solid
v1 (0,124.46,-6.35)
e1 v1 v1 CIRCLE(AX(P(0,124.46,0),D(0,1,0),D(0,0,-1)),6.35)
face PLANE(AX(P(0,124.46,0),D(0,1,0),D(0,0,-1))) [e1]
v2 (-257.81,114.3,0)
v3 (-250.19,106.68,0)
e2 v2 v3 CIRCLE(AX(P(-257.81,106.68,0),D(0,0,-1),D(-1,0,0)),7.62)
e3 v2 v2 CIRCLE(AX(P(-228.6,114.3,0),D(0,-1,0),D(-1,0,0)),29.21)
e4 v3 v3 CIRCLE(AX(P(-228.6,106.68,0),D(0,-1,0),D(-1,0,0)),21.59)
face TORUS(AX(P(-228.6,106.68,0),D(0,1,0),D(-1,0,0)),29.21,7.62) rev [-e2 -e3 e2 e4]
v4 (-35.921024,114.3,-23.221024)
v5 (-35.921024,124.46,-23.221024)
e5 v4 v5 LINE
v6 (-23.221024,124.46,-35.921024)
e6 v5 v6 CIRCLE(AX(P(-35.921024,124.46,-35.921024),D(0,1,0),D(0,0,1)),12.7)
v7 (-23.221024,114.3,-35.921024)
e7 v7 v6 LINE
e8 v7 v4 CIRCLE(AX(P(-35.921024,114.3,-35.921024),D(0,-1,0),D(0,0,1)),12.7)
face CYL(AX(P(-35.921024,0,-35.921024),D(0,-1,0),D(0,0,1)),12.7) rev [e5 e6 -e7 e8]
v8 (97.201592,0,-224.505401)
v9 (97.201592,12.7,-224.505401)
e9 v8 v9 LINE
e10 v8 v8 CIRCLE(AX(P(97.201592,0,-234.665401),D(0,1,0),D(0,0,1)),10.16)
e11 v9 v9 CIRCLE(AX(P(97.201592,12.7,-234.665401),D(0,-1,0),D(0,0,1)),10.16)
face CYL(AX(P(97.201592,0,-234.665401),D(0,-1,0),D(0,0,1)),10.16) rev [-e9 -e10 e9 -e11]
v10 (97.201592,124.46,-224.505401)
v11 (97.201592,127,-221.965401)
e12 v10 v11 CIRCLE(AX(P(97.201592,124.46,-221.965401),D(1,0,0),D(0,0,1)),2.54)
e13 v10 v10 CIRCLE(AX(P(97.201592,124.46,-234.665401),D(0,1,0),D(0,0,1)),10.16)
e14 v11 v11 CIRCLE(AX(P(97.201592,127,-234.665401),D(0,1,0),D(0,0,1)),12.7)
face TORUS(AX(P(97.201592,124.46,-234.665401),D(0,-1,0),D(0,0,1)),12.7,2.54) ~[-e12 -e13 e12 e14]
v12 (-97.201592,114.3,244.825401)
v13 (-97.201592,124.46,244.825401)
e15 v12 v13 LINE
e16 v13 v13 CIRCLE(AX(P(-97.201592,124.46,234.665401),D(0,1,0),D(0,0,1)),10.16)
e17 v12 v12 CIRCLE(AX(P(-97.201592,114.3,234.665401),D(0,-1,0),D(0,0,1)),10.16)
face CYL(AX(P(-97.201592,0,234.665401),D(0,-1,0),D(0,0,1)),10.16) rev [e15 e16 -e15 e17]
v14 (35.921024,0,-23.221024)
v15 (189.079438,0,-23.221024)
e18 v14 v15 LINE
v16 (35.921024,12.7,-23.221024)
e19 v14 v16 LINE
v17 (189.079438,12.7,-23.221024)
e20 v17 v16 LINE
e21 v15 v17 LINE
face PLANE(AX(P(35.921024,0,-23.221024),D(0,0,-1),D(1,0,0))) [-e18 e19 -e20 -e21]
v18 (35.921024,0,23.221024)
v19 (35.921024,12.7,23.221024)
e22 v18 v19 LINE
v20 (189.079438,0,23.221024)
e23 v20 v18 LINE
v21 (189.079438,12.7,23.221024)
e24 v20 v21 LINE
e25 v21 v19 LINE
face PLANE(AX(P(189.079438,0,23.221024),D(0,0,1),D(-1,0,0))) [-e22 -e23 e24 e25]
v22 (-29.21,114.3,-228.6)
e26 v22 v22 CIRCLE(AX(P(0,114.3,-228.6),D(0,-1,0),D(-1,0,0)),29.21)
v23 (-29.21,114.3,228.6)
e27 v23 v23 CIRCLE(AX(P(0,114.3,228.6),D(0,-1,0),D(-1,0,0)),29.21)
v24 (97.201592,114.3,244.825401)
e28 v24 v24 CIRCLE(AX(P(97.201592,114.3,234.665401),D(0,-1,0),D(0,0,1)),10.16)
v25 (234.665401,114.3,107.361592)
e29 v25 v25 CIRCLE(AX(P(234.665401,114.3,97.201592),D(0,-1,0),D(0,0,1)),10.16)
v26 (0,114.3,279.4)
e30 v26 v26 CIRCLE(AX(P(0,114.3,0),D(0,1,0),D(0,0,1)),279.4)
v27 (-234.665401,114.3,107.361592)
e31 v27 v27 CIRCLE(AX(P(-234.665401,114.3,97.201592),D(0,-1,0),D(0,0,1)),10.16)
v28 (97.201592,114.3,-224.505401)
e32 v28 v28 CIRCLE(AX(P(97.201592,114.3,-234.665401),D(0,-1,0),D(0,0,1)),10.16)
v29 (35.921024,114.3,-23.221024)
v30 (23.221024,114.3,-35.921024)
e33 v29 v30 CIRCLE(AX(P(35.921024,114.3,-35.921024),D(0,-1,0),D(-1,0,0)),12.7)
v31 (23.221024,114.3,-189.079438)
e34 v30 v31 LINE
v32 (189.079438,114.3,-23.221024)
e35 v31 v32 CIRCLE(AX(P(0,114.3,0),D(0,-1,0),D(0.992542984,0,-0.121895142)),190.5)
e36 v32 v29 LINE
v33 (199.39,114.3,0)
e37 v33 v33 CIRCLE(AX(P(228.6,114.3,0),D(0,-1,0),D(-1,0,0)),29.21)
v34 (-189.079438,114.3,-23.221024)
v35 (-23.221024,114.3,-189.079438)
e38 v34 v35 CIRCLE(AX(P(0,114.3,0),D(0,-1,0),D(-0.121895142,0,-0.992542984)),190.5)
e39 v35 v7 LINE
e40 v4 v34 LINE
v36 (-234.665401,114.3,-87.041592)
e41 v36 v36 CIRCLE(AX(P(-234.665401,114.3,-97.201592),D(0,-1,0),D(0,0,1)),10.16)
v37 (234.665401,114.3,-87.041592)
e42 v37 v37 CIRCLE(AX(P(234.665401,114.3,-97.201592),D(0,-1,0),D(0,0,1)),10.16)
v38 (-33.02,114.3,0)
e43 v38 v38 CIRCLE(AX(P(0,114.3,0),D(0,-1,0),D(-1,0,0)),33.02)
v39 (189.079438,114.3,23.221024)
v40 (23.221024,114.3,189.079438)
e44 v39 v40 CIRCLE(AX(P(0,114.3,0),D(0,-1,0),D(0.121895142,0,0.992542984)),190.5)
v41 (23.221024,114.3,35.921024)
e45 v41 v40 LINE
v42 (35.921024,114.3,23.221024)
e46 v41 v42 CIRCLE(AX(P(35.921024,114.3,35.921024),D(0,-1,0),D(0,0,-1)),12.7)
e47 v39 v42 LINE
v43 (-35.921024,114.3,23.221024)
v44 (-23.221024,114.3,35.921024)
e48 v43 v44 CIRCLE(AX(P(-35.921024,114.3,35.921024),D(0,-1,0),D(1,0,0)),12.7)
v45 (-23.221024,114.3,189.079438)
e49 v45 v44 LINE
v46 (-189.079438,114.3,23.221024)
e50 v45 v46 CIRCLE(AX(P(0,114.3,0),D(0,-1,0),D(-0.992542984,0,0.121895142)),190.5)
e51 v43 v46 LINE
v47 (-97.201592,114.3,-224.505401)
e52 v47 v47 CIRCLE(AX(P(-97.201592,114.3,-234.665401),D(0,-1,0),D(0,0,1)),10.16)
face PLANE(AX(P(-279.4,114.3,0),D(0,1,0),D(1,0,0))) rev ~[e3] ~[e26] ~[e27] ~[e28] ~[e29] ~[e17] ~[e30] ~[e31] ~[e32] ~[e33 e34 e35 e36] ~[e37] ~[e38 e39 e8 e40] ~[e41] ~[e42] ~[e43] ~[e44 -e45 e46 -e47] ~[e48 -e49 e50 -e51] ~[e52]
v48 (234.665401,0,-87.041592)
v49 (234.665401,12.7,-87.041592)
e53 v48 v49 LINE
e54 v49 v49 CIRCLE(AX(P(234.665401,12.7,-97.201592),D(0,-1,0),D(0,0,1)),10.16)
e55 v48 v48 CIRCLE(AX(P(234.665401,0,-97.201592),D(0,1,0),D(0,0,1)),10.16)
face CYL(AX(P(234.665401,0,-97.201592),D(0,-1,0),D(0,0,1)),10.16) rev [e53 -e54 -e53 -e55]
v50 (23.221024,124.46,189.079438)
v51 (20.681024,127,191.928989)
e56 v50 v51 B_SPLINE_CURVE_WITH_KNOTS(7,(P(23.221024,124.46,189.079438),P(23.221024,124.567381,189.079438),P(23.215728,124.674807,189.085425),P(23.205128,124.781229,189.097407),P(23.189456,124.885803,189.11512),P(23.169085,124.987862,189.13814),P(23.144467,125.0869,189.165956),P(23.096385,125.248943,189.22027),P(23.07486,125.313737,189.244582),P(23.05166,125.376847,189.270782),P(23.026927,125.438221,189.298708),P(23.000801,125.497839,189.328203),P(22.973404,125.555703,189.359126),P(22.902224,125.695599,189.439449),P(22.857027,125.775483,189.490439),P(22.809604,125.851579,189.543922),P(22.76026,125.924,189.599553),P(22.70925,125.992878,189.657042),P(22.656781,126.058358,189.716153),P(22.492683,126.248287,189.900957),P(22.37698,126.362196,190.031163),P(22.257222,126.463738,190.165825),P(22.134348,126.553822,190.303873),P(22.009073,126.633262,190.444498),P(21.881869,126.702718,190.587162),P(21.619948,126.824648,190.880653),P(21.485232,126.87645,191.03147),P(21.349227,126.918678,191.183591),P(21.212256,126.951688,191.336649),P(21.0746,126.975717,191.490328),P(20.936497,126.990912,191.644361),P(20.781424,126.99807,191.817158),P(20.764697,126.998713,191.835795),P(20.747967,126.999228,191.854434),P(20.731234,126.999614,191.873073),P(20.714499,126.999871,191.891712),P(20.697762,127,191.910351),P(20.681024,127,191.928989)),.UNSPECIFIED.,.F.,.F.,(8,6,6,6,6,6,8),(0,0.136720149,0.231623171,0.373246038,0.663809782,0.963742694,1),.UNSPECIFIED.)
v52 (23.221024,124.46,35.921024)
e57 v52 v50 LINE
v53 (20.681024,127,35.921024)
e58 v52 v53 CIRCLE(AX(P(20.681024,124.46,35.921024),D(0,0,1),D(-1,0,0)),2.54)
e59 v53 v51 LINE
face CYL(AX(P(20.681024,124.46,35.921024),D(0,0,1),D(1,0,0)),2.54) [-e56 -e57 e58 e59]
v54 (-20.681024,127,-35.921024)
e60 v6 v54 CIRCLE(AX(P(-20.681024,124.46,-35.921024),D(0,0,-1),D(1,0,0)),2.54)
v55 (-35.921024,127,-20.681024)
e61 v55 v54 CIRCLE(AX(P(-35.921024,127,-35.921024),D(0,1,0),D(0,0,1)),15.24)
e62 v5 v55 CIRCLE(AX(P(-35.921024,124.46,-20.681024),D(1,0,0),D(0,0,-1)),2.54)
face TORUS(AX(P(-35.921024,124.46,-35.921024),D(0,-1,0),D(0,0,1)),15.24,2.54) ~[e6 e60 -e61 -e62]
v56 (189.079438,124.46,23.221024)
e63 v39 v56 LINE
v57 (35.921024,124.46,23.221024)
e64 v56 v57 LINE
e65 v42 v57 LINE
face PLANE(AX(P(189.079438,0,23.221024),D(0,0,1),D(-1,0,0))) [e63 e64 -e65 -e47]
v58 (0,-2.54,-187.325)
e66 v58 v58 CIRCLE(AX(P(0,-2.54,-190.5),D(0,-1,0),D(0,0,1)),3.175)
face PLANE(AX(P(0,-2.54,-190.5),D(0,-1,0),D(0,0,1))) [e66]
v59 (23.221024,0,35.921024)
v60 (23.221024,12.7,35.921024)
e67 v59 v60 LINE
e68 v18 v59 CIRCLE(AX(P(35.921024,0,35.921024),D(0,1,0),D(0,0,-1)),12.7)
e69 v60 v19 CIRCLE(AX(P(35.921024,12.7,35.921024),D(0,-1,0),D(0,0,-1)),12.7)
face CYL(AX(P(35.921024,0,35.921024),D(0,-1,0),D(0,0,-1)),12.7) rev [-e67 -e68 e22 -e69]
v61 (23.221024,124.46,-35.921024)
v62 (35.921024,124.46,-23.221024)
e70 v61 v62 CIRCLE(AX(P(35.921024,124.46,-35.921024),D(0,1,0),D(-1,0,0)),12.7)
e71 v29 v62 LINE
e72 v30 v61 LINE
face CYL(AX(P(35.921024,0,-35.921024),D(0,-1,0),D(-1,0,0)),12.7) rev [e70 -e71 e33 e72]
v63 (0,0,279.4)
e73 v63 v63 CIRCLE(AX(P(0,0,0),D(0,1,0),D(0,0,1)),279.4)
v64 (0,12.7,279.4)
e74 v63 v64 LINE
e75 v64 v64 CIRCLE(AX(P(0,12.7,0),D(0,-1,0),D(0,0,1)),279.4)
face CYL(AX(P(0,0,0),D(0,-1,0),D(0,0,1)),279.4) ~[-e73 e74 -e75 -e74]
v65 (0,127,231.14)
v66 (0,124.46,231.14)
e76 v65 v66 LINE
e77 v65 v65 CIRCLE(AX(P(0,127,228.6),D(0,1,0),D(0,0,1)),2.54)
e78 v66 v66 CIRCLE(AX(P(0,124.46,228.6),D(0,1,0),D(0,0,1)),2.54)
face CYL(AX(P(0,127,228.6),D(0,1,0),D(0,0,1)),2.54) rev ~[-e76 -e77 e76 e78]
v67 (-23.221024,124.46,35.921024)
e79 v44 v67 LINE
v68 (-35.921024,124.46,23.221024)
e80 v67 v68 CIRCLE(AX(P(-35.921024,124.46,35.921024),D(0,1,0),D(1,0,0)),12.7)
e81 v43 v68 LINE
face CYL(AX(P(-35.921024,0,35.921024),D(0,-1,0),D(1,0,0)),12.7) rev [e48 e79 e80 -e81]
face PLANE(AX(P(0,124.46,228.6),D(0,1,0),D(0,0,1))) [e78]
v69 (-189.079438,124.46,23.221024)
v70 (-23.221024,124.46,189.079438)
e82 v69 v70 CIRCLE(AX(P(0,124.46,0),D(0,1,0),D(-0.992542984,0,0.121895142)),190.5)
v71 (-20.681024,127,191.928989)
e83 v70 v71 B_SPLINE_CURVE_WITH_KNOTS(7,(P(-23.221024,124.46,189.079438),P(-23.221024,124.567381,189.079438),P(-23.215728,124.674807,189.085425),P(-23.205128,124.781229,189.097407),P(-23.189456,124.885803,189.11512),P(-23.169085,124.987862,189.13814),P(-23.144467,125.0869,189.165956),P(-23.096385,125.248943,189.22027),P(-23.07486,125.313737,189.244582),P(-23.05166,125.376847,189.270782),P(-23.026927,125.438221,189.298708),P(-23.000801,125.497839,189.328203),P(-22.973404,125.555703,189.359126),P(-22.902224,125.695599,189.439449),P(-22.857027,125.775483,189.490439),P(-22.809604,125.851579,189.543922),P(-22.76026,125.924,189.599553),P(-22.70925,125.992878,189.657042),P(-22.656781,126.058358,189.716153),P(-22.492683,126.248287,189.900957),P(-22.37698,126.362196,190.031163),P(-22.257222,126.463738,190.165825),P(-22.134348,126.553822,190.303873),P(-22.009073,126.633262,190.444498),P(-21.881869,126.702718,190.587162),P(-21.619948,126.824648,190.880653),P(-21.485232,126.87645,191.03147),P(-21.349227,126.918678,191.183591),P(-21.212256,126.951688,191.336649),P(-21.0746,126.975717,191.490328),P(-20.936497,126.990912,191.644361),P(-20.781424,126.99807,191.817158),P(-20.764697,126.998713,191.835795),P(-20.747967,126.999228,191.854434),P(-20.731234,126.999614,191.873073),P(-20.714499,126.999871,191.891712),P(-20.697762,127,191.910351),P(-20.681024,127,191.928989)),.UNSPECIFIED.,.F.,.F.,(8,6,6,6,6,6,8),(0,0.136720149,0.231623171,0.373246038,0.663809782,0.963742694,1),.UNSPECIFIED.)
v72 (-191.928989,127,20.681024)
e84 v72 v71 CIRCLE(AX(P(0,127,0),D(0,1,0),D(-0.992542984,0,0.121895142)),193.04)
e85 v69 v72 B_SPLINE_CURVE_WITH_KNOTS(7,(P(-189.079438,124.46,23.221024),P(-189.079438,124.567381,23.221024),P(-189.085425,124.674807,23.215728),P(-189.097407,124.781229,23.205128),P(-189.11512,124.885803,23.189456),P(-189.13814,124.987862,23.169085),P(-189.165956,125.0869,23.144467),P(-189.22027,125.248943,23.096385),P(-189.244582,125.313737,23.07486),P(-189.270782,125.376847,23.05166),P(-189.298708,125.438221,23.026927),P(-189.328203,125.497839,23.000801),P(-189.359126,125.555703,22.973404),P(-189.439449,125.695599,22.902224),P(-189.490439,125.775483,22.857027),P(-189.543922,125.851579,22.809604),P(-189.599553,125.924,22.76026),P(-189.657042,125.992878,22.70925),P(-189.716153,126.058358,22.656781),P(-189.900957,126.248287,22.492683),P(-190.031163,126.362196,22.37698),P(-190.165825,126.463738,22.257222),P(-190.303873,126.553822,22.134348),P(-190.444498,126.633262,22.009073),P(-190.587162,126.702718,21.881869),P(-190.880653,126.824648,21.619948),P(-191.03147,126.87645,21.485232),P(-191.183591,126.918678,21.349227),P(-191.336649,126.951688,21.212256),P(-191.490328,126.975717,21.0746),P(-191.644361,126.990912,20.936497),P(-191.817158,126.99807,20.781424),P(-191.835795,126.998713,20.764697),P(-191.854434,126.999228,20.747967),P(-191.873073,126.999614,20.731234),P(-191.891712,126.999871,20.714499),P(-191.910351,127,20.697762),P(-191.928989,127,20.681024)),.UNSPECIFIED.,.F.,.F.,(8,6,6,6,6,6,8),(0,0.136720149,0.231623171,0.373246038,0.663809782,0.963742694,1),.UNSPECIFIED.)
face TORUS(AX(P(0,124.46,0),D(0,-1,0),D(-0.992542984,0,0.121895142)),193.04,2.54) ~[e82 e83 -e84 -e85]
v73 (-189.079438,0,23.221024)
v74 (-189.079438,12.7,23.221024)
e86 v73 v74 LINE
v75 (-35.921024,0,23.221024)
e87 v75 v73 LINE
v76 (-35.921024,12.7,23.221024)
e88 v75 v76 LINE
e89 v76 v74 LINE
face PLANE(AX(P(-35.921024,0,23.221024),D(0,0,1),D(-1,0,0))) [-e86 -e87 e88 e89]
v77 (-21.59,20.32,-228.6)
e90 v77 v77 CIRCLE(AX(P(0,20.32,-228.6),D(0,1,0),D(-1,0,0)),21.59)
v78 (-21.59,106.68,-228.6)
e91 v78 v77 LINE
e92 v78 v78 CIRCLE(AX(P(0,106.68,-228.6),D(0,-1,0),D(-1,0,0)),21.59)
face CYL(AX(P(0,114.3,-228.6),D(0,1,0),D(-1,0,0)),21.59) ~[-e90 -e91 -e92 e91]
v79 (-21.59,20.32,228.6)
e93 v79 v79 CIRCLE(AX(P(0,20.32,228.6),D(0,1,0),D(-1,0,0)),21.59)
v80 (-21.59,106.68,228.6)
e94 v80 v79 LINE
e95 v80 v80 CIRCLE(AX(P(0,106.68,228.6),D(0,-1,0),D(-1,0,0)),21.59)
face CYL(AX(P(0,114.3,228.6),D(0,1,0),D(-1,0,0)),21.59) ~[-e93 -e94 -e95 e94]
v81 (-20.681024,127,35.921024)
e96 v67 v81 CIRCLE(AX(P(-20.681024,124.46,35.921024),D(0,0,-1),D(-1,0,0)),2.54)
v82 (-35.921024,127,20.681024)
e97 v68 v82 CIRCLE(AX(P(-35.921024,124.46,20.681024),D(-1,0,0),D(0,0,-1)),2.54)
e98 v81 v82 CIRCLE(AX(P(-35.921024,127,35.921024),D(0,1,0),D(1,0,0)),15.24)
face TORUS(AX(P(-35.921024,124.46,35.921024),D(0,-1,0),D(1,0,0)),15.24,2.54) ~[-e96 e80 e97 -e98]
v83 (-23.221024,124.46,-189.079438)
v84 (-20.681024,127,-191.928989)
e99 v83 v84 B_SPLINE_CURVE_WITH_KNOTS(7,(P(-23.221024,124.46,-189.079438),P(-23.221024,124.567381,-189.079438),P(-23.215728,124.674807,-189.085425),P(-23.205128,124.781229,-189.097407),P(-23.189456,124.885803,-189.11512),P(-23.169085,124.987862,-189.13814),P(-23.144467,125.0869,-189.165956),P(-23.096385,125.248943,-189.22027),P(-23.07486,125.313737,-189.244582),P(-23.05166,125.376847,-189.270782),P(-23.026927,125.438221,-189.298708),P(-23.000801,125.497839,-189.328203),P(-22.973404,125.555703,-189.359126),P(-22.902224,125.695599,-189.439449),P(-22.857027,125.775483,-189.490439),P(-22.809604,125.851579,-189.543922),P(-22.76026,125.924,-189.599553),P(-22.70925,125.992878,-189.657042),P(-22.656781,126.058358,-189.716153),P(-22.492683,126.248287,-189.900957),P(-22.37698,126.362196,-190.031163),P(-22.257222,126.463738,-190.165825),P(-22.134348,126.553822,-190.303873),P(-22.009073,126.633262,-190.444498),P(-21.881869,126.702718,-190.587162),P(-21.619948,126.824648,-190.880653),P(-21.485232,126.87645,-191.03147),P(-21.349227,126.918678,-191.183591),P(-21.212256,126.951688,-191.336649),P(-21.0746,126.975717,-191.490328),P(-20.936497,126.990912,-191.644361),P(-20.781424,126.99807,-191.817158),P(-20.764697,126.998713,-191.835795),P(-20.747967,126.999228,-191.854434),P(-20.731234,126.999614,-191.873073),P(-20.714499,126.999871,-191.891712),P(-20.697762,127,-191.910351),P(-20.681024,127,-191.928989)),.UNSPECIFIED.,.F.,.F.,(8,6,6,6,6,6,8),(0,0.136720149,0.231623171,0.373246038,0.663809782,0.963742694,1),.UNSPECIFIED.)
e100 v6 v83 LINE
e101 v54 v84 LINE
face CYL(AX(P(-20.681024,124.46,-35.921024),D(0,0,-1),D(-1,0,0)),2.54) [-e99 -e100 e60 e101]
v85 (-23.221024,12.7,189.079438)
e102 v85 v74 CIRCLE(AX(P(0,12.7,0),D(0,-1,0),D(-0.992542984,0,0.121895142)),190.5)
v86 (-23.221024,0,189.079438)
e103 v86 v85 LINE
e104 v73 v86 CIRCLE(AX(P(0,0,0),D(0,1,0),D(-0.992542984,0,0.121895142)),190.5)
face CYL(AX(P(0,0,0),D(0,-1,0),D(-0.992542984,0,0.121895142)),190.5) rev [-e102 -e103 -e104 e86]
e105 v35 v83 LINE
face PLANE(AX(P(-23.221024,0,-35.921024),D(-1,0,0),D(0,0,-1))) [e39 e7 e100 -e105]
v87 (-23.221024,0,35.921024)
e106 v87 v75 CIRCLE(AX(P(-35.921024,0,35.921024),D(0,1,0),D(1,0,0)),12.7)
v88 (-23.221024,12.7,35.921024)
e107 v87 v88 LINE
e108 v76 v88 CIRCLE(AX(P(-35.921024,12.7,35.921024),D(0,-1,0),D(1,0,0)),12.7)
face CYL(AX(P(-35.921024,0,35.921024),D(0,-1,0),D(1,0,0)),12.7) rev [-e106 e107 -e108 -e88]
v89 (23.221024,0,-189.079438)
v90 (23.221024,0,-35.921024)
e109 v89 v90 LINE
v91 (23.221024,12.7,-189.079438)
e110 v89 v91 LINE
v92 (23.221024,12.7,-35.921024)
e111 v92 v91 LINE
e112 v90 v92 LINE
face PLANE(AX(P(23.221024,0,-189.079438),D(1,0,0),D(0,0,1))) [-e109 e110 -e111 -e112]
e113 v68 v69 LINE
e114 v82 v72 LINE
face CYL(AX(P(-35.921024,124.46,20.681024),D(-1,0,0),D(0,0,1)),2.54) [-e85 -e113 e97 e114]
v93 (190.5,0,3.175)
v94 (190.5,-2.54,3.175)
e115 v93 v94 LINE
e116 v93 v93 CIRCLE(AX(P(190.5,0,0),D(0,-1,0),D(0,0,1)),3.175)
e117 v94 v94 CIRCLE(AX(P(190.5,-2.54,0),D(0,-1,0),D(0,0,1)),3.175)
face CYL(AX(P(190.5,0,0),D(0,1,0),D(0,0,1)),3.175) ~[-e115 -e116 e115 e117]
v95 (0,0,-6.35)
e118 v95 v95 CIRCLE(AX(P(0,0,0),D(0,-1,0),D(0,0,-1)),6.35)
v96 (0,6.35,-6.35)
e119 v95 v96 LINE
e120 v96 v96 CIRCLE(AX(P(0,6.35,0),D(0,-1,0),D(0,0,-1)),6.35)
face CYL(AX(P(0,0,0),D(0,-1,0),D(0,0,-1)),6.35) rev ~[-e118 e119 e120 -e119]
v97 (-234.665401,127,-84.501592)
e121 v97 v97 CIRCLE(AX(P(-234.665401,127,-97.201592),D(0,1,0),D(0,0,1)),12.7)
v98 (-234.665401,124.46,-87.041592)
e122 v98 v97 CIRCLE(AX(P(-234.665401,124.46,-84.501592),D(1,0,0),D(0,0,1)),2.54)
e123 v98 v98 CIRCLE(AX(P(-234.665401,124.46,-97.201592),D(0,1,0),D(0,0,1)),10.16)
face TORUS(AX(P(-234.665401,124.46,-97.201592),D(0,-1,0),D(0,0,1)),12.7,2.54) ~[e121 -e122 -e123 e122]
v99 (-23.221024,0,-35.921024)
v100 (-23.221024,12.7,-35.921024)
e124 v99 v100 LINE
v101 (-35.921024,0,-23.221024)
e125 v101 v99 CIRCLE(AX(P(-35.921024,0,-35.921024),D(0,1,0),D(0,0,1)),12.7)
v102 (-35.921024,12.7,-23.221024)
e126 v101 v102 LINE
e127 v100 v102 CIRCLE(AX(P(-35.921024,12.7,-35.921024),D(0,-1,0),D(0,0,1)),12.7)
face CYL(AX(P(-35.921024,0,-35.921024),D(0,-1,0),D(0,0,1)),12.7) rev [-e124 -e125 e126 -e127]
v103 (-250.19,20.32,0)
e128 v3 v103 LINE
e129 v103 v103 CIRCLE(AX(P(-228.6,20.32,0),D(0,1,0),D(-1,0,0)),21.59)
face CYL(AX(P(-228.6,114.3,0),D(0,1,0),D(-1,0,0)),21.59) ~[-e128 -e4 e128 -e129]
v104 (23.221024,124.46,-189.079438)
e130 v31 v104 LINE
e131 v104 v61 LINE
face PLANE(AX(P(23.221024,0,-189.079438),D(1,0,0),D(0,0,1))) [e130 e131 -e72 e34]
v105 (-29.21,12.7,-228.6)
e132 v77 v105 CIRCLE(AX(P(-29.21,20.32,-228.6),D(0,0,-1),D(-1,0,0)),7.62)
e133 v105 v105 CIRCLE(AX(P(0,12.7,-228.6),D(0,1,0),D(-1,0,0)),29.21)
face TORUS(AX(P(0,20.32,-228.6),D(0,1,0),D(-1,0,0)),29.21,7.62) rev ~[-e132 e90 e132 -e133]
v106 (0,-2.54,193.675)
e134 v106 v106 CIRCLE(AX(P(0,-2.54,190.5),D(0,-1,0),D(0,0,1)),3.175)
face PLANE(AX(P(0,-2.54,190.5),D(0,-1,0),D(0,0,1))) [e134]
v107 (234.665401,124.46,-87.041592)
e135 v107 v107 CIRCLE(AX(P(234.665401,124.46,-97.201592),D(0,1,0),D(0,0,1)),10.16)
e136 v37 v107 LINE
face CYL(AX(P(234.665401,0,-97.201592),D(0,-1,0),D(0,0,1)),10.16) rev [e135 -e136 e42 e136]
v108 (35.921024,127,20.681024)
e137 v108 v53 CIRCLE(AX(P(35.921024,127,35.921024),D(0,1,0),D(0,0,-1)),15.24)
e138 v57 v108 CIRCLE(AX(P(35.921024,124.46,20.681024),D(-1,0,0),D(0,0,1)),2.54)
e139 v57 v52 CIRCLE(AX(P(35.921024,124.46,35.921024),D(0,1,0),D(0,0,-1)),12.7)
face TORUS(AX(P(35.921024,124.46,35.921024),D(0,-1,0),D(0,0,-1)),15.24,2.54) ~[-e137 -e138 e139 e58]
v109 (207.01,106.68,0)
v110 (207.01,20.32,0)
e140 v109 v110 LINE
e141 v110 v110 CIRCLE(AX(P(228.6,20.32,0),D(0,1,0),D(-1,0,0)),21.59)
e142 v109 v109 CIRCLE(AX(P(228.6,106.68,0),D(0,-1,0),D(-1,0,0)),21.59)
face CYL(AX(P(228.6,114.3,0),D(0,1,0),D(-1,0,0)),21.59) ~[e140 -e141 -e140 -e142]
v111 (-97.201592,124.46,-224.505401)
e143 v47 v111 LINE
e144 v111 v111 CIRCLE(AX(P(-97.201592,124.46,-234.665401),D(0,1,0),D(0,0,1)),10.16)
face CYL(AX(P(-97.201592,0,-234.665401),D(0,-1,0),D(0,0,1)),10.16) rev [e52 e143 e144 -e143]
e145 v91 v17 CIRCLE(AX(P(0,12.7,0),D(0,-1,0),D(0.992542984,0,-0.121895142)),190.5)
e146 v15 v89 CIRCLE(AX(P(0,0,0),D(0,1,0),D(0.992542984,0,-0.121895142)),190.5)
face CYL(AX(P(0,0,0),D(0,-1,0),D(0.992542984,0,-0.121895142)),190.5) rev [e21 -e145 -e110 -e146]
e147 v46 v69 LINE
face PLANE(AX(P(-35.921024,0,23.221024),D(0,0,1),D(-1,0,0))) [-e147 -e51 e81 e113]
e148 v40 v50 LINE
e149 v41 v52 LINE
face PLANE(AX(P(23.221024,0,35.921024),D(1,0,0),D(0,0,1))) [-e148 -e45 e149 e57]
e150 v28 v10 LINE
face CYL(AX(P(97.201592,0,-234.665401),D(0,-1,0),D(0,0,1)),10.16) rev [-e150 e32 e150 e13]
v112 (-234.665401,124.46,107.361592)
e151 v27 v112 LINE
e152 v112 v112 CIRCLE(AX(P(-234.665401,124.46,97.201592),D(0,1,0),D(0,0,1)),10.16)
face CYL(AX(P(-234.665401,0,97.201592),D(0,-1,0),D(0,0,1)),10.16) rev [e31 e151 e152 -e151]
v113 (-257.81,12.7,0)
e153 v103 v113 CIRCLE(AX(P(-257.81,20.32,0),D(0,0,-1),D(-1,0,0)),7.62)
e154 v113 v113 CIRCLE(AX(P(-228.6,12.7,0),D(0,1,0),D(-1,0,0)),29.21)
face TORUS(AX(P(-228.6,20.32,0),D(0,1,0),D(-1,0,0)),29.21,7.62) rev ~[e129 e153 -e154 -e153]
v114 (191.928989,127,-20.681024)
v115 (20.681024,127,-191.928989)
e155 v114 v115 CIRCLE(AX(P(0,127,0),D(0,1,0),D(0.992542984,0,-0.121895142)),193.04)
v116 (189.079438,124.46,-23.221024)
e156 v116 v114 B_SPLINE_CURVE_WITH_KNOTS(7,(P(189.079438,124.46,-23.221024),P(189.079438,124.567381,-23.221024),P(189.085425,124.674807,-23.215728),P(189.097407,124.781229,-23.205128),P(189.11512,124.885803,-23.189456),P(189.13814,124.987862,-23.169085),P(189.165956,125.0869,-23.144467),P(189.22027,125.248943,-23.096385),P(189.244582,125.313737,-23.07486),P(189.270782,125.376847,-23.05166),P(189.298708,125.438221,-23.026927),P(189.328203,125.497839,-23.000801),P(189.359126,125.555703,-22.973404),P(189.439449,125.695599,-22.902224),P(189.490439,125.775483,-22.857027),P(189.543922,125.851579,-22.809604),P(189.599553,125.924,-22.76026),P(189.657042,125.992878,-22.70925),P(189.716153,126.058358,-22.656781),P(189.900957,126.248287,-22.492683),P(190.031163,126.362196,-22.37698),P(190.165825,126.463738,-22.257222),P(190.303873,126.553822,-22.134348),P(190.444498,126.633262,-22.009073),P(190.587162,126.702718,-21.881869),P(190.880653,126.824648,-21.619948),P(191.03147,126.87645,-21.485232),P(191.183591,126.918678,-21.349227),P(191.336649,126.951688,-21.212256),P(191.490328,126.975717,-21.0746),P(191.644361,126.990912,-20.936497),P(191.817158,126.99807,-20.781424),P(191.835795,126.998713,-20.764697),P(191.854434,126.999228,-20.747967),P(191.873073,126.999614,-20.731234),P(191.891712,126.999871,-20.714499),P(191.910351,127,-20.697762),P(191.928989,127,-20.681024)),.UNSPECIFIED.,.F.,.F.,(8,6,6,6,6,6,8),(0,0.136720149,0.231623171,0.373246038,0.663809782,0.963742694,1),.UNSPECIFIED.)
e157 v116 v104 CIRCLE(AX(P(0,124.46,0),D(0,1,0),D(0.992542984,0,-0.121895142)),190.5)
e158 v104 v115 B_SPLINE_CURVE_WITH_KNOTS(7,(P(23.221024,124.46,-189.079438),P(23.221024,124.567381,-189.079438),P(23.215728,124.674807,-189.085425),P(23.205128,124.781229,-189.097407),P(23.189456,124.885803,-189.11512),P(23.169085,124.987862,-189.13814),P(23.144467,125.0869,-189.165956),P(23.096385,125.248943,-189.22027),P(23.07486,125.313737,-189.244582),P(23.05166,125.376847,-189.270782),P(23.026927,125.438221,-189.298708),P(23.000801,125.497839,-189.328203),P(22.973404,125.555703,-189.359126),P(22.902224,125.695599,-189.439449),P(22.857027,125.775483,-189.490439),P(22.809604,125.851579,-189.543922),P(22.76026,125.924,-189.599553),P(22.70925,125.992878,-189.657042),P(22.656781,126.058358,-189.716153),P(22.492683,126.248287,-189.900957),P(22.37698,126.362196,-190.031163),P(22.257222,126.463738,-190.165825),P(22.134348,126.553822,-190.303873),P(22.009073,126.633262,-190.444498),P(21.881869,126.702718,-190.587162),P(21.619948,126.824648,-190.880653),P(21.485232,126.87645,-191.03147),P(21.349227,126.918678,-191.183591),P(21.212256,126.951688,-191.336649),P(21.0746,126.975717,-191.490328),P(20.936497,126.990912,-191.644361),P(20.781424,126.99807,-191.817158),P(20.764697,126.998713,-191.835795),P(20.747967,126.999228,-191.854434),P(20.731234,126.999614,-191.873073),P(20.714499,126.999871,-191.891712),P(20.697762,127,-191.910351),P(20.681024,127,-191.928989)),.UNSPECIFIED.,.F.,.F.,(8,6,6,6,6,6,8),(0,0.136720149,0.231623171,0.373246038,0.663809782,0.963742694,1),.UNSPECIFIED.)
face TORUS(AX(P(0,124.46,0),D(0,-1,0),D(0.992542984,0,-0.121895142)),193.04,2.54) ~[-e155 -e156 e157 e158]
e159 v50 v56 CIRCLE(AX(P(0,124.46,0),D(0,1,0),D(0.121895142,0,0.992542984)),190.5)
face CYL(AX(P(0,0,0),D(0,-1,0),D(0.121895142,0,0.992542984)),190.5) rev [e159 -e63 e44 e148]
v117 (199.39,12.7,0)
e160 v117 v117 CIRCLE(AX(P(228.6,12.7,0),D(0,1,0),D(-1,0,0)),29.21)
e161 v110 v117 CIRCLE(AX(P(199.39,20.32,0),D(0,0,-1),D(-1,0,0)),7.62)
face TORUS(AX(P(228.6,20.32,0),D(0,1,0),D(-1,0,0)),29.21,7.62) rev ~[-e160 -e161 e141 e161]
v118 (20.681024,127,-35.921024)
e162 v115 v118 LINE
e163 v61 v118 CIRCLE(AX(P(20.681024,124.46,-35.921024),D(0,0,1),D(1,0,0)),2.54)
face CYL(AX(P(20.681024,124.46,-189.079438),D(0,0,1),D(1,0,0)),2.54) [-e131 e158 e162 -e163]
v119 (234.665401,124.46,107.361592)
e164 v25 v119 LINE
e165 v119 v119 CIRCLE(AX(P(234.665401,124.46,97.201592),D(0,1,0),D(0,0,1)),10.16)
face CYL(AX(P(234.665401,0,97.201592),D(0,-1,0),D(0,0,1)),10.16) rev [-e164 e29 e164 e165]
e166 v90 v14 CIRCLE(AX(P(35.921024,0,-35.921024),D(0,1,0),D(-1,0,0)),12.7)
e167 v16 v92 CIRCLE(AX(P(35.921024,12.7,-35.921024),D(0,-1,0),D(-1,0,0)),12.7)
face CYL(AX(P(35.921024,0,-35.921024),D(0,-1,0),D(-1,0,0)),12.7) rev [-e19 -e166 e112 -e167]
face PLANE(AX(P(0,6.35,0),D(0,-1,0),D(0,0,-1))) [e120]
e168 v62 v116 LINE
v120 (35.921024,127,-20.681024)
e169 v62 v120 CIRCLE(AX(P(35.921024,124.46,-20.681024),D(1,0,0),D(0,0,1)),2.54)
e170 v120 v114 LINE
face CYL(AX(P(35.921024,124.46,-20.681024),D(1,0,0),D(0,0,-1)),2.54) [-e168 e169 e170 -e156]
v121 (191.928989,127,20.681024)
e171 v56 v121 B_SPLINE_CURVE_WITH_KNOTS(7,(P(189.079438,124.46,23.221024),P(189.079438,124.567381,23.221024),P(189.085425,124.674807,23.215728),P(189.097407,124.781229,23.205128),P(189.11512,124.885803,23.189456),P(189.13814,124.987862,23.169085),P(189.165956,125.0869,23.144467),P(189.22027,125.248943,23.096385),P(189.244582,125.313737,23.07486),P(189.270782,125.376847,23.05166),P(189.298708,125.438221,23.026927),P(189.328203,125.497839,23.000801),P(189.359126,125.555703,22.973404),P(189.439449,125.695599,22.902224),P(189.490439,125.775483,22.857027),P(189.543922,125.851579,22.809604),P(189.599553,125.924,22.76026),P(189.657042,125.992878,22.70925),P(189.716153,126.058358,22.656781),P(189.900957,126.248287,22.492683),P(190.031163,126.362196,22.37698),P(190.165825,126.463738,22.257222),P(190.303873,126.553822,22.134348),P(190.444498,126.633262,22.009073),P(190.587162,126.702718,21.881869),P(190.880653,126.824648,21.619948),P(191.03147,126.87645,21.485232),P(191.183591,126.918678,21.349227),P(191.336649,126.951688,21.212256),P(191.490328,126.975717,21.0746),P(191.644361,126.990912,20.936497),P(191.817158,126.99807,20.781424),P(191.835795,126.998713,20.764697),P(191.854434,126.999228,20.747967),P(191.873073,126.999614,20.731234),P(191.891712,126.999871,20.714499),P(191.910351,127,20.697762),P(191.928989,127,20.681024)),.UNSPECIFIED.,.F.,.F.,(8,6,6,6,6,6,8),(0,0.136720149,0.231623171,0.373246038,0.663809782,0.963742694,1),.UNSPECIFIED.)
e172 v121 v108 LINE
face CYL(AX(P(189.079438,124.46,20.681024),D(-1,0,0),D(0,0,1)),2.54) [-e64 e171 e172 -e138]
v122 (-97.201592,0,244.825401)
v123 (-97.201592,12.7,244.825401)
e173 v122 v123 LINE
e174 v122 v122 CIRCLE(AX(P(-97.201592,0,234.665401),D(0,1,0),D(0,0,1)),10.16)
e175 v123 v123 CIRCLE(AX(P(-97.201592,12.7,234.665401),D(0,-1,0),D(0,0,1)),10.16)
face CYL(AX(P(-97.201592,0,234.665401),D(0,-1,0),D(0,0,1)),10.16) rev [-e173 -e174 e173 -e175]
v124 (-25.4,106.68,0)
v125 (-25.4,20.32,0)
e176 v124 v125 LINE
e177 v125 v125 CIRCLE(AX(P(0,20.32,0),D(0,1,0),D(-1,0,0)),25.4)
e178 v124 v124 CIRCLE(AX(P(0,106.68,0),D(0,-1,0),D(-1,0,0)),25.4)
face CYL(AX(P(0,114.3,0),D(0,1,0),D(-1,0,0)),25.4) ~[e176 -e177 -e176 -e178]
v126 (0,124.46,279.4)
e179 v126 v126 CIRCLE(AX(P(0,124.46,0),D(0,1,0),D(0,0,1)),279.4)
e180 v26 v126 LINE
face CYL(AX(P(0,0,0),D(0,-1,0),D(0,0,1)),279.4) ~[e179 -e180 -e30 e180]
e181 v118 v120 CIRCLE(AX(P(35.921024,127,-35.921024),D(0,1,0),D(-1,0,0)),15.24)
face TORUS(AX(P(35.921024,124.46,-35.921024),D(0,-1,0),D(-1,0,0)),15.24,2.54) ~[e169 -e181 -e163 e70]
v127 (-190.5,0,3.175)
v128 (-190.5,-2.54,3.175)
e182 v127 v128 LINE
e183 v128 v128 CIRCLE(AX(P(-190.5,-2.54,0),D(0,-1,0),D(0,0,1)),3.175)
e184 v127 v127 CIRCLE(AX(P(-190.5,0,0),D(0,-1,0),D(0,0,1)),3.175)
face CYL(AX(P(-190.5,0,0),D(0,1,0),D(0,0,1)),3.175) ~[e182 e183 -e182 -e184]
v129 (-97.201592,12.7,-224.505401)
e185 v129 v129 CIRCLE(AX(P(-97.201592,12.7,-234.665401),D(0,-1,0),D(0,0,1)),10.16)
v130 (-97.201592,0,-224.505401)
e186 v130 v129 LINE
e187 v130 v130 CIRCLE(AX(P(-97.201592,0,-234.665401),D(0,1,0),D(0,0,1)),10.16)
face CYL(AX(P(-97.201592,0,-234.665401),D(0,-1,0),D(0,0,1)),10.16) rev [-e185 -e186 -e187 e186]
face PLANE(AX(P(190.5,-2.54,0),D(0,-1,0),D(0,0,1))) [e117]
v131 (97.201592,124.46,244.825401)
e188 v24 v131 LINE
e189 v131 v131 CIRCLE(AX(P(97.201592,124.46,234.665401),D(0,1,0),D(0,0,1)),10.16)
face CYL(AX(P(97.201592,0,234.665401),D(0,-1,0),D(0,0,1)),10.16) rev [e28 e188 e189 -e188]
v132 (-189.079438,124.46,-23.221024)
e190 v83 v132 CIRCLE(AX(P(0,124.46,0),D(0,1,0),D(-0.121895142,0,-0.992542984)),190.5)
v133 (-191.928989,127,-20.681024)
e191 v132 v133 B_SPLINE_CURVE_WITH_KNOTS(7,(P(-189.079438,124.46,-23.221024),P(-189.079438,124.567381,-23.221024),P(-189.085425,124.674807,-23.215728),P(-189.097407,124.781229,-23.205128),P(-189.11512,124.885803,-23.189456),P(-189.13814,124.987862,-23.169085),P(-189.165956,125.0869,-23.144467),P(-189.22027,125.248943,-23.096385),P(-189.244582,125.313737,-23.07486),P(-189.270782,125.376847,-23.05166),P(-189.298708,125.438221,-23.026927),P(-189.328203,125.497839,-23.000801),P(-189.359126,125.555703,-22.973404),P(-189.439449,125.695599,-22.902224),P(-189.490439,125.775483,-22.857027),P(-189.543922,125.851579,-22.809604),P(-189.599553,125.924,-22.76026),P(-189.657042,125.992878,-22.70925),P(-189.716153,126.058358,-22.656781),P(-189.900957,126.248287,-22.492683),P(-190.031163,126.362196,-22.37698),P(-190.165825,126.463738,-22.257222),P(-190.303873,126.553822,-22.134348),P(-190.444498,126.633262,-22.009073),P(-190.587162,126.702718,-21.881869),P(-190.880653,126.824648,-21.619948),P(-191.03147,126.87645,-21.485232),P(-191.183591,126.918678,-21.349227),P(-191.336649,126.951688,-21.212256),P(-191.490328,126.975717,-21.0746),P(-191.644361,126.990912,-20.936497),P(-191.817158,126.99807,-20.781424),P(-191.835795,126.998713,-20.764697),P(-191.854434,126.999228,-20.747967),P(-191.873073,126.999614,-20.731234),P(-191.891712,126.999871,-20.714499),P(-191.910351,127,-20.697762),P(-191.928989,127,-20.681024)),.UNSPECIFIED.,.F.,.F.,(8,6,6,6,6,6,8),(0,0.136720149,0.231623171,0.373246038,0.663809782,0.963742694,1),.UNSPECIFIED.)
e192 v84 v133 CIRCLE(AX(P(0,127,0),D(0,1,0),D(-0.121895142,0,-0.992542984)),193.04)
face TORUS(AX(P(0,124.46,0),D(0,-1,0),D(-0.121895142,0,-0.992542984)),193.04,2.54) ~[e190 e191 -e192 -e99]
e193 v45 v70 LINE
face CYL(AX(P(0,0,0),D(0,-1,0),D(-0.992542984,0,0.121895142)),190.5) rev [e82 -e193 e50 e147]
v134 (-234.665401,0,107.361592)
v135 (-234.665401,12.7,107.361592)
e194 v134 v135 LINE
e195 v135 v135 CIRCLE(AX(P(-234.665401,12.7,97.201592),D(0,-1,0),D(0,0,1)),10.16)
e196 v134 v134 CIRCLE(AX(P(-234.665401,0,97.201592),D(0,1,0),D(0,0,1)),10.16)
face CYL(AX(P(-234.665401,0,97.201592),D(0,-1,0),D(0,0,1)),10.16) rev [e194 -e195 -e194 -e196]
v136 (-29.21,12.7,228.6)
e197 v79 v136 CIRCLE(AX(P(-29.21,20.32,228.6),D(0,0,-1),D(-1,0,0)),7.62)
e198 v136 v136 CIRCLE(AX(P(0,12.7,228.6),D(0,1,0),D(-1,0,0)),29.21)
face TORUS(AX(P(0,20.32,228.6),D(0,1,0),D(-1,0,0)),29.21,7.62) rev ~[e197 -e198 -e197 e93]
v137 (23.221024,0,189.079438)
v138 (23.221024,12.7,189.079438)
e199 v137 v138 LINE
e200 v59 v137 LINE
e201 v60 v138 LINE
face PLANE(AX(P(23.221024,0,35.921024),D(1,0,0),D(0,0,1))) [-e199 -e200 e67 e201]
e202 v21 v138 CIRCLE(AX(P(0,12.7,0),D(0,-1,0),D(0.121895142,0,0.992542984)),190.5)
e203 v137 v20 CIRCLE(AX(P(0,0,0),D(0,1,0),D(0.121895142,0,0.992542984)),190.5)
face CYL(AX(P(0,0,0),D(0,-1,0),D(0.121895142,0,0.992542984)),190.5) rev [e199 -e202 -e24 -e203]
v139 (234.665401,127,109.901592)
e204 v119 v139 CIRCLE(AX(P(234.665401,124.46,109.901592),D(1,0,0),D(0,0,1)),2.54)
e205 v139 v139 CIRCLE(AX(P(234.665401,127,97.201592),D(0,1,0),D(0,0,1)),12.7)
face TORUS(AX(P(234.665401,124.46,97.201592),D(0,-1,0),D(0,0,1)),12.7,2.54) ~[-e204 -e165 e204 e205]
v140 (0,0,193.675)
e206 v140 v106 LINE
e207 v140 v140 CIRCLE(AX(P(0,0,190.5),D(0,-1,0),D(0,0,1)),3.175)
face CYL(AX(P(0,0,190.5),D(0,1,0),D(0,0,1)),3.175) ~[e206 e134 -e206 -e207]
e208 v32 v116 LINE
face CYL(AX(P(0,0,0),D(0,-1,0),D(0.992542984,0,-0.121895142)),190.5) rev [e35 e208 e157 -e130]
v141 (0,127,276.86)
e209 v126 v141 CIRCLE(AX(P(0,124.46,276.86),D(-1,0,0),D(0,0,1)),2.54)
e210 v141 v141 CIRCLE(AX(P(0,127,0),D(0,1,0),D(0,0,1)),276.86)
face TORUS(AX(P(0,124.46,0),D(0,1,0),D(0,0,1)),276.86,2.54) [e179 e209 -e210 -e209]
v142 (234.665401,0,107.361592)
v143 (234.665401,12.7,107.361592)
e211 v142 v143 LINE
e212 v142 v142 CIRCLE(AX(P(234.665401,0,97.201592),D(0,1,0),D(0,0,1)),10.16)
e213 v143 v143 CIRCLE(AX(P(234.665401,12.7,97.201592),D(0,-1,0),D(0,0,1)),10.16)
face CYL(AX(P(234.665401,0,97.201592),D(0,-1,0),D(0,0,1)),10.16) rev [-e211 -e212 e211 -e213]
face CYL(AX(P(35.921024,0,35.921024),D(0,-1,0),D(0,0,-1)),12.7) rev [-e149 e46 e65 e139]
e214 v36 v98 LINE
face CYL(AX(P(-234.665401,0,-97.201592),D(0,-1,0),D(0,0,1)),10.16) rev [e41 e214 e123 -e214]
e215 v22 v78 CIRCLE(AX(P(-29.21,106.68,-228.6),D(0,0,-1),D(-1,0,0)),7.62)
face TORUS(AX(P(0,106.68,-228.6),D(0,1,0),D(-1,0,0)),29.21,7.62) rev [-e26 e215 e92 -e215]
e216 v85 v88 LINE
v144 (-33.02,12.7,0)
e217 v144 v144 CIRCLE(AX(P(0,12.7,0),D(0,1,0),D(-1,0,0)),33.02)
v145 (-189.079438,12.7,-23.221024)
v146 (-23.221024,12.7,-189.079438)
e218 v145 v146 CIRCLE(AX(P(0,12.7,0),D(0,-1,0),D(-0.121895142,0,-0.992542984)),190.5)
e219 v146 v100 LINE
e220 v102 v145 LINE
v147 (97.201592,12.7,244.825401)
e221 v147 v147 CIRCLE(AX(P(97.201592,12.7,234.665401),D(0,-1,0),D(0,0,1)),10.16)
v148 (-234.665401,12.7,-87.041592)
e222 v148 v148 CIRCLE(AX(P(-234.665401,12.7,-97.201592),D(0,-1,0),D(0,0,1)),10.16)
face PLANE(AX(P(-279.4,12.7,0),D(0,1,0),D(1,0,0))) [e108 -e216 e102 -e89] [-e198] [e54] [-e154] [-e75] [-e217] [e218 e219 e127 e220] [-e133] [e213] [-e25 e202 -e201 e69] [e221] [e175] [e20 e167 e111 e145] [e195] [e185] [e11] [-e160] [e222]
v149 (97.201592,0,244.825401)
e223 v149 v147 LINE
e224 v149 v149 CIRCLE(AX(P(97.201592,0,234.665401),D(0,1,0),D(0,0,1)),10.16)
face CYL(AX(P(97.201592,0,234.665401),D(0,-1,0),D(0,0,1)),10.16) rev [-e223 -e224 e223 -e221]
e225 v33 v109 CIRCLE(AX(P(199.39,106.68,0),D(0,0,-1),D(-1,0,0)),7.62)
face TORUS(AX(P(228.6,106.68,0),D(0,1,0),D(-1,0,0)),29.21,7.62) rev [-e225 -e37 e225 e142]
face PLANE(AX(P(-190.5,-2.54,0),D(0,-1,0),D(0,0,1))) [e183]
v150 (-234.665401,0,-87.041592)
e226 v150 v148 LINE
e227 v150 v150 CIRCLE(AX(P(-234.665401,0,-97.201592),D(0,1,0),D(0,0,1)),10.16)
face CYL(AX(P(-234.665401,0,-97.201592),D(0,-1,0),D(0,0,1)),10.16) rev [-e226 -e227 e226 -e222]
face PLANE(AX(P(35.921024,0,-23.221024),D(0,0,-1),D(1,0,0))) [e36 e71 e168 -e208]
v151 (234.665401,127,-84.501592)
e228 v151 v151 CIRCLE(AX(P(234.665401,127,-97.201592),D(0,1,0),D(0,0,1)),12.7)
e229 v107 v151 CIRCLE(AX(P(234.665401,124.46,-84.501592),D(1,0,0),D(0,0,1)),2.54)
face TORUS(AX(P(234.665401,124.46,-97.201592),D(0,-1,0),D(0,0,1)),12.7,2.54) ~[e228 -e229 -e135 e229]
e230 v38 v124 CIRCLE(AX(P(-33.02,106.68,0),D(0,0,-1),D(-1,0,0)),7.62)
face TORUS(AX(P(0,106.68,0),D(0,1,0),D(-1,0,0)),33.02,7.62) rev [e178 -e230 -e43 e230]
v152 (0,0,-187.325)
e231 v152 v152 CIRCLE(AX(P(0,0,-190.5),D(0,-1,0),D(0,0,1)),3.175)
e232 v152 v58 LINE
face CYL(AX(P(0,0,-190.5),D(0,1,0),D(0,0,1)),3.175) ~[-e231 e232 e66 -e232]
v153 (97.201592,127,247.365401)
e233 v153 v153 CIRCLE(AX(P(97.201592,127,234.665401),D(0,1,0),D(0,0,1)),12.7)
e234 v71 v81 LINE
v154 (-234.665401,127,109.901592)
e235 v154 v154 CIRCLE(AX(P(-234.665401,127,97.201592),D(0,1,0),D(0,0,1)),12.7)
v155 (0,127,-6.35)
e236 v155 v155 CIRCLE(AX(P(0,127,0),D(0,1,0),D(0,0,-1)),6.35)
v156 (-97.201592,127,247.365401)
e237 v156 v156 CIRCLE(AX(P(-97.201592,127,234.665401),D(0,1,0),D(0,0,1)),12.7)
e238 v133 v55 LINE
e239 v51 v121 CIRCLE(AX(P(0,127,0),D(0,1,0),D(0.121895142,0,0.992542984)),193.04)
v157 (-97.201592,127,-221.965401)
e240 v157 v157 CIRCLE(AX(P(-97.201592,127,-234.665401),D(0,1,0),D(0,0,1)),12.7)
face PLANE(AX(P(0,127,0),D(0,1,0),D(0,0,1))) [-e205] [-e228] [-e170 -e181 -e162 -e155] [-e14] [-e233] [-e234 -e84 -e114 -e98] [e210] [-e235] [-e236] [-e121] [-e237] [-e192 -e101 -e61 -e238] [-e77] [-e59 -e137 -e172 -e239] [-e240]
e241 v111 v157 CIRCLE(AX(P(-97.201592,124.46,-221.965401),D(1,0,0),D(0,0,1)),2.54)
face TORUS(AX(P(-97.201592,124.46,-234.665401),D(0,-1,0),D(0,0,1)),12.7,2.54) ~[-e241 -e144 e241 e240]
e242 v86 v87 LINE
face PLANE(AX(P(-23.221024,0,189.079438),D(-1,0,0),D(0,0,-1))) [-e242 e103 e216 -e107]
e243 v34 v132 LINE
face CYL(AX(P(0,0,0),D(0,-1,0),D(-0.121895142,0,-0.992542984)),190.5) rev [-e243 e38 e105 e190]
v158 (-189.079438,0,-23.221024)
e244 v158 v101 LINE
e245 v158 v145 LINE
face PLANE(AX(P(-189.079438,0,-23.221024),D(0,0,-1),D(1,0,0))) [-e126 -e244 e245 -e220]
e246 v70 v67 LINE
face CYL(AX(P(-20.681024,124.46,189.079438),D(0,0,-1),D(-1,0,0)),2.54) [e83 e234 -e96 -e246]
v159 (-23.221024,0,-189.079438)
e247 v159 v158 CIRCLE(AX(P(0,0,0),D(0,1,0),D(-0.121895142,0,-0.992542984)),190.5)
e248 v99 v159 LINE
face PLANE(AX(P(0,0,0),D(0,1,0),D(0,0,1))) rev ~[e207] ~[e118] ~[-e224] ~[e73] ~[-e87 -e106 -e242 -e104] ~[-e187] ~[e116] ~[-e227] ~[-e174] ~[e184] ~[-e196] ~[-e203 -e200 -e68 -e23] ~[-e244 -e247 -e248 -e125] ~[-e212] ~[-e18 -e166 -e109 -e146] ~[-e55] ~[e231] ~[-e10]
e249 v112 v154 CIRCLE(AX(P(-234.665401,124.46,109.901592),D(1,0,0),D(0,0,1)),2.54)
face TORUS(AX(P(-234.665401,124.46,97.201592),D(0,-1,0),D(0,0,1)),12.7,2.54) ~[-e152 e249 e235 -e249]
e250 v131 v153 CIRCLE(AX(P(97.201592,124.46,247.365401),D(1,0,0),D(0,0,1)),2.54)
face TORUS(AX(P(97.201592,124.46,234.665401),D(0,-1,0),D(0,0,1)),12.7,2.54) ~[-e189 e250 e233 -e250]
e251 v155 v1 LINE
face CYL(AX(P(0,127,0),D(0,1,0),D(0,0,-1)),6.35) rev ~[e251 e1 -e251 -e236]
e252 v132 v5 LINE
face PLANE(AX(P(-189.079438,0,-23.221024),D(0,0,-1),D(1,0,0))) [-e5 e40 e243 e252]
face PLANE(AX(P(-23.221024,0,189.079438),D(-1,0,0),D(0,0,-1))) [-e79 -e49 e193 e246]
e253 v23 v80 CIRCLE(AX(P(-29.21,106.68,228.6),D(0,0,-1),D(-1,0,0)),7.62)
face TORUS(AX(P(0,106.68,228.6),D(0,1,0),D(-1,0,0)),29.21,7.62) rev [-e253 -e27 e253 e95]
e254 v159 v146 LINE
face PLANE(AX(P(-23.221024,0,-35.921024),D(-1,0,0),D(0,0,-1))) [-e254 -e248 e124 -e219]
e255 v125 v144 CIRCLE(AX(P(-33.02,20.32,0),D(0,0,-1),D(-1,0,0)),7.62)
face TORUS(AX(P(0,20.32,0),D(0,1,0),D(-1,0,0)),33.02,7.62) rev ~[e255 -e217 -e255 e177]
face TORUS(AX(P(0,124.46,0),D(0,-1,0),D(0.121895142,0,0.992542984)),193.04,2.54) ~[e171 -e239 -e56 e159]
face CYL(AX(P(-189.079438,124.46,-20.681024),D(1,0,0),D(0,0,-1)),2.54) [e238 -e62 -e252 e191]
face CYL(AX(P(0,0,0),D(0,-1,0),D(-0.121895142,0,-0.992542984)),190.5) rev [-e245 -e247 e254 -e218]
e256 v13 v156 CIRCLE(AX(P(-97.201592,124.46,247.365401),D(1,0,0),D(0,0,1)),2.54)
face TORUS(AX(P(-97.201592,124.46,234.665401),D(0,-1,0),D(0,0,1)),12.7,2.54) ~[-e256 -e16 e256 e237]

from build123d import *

# Parameters (mm, degrees)
SKETCH1_R               = 279.4
SKETCH1_R_2             = 10.16
SKETCH1_R_3             = 228.6
BOSS_EXTRUDE1_DEPTH     = 127
FILLET1_R               = 2.54
SKETCH2_W               = 558.8
SKETCH2_H               = 101.6
CUT_EXTRUDE1_DEPTH      = 416.039419845
CUT_EXTRUDE1_DEPTH_BACK = 416.039419845
SKETCH3_R               = 6.35
CUT_EXTRUDE2_DEPTH      = 6.35
SKETCH5_R               = 3.175
BOSS_EXTRUDE3_DEPTH     = 2.54
BOSS_EXTRUDE4_REACH     = 414.044
SKETCH6_R               = 25.4
SKETCH6_R_2             = 21.59
FILLET2_R               = 7.62
FILLET3_R               = 7.62
SKETCH7_R               = 6.35
SKETCH7_R_2             = 2.54
CUT_EXTRUDE3_DEPTH      = 2.54


with BuildPart() as part:
    # Sketch1 → Boss-Extrude1 (new body)
    with BuildSketch(Plane(origin=(0, 0, 0), x_dir=(1, 0, 0), z_dir=(0, 1, 0))):
        with Locations(Location((0, 0, 0), (0, 0, 270))):
            Circle(SKETCH1_R)
        with Locations(Location((234.665401258, -97.201591821, 0), (0, 0, 270))):
            Circle(SKETCH1_R_2, mode=Mode.SUBTRACT)
        with Locations(Location((97.201591821, -234.665401258, 0), (0, 0, 270))):
            Circle(SKETCH1_R_2, mode=Mode.SUBTRACT)
        with Locations(Location((97.201591821, 234.665401258, 0), (0, 0, 270))):
            Circle(SKETCH1_R_2, mode=Mode.SUBTRACT)
        with Locations(Location((234.665401258, 97.201591821, 0), (0, 0, 270))):
            Circle(SKETCH1_R_2, mode=Mode.SUBTRACT)
        with Locations(Location((-234.665401258, 97.201591821, 0), (0, 0, 270))):
            Circle(SKETCH1_R_2, mode=Mode.SUBTRACT)
        with Locations(Location((-97.201591821, 234.665401258, 0), (0, 0, 270))):
            Circle(SKETCH1_R_2, mode=Mode.SUBTRACT)
        with Locations(Location((-97.201591821, -234.665401258, 0), (0, 0, 270))):
            Circle(SKETCH1_R_2, mode=Mode.SUBTRACT)
        with Locations(Location((-234.665401258, -97.201591821, 0), (0, 0, 270))):
            Circle(SKETCH1_R_2, mode=Mode.SUBTRACT)
        Circle(SKETCH1_R_3, mode=Mode.SUBTRACT)
        Circle(SKETCH1_R_3)
        with BuildLine():
            ThreePointArc((-23.221024484, 189.07943839), (-134.703841816, 134.703841816), (-189.07943839, 23.221024484))
            Line((-189.07943839, 23.221024484), (-35.921024484, 23.221024484))
            ThreePointArc((-35.921024484, 23.221024484), (-26.940768363, 26.940768363), (-23.221024484, 35.921024484))
            Line((-23.221024484, 35.921024484), (-23.221024484, 189.07943839))
        make_face(mode=Mode.SUBTRACT)
        with BuildLine():
            ThreePointArc((189.07943839, 23.221024484), (134.703841816, 134.703841816), (23.221024484, 189.07943839))
            Line((23.221024484, 189.07943839), (23.221024484, 35.921024484))
            ThreePointArc((23.221024484, 35.921024484), (26.940768363, 26.940768363), (35.921024484, 23.221024484))
            Line((35.921024484, 23.221024484), (189.07943839, 23.221024484))
        make_face(mode=Mode.SUBTRACT)
        with BuildLine():
            ThreePointArc((-189.07943839, -23.221024484), (-134.703841816, -134.703841816), (-23.221024484, -189.07943839))
            Line((-23.221024484, -189.07943839), (-23.221024484, -35.921024484))
            ThreePointArc((-23.221024484, -35.921024484), (-26.940768363, -26.940768363), (-35.921024484, -23.221024484))
            Line((-35.921024484, -23.221024484), (-189.07943839, -23.221024484))
        make_face(mode=Mode.SUBTRACT)
        with BuildLine():
            ThreePointArc((35.921024484, -23.221024484), (26.940768363, -26.940768363), (23.221024484, -35.921024484))
            Line((23.221024484, -35.921024484), (23.221024484, -189.07943839))
            ThreePointArc((23.221024484, -189.07943839), (134.703841816, -134.703841816), (189.07943839, -23.221024484))
            Line((189.07943839, -23.221024484), (35.921024484, -23.221024484))
        make_face(mode=Mode.SUBTRACT)
    extrude(amount=BOSS_EXTRUDE1_DEPTH)

    # Fillet1
    fillet1_edges = [part.edges().sort_by_distance(p)[0] for p in [
        (-97.201591821, 127, -244.825401258),
        (-97.201591821, 127, 224.505401258),
        (-234.665401258, 127, 87.041591821),
        (0, 127, -279.4),
        (-134.703841816, 127, -134.703841816),
        (-23.221024484, 127, -112.500231437),
        (-26.940768363, 127, -26.940768363),
        (-112.500231437, 127, -23.221024484),
        (134.703841816, 127, -134.703841816),
        (112.500231437, 127, -23.221024484),
        (26.940768363, 127, -26.940768363),
        (23.221024484, 127, -112.500231437),
        (-134.703841816, 127, 134.703841816),
        (-112.500231437, 127, 23.221024484),
        (-26.940768363, 127, 26.940768363),
        (-23.221024484, 127, 112.500231437),
        (26.940768363, 127, 26.940768363),
        (112.500231437, 127, 23.221024484),
        (134.703841816, 127, 134.703841816),
        (23.221024484, 127, 112.500231437),
        (234.665401258, 127, 87.041591821),
        (97.201591821, 127, 224.505401258),
        (97.201591821, 127, -244.825401258),
        (234.665401258, 127, -107.361591821),
        (-234.665401258, 127, -107.361591821),
    ]]
    fillet(fillet1_edges, radius=FILLET1_R)

    # Sketch2 → Cut-Extrude1 (cut, two sides)
    with BuildSketch(Plane.XY) as cut_extrude1_sk:
        with Locations((0, 63.5)):
            Rectangle(SKETCH2_W, SKETCH2_H)
    extrude(amount=CUT_EXTRUDE1_DEPTH, mode=Mode.SUBTRACT)
    extrude(cut_extrude1_sk.sketch, amount=-CUT_EXTRUDE1_DEPTH_BACK, mode=Mode.SUBTRACT)


with BuildPart() as cut_extrude1_piece_1:
    # of the separate pieces the step leaves, piece 1, a body of its own (cut_extrude1_pieces)
    add(part.part.solids().sort_by_distance((0, 0, 279.4))[0])

    # Sketch3 → Cut-Extrude2 (cut)
    with BuildSketch(Plane.XZ):
        with Locations(Location((0, 0, 0), (0, 0, 270))):
            Circle(SKETCH3_R)
    extrude(amount=-CUT_EXTRUDE2_DEPTH, mode=Mode.SUBTRACT)

    # Sketch5 → Boss-Extrude3 (add)
    with BuildSketch(Plane.XZ):
        with Locations(Location((0, 190.5, 0), (0, 0, 90))):
            Circle(SKETCH5_R)
        with Locations(Location((190.5, 0, 0), (0, 0, 90))):
            Circle(SKETCH5_R)
        with Locations(Location((0, -190.5, 0), (0, 0, 90))):
            Circle(SKETCH5_R)
        with Locations(Location((-190.5, 0, 0), (0, 0, 90))):
            Circle(SKETCH5_R)
    extrude(amount=BOSS_EXTRUDE3_DEPTH)

    # Sketch6 → Boss-Extrude4 (add, up to next)
    with BuildSketch(Plane.XZ.offset(-114.3), mode=Mode.PRIVATE) as boss_extrude4_sk1:
        with Locations(Location((0, 0, 0), (0, 0, 180))):
            Circle(SKETCH6_R)
    boss_extrude4_tool1 = extrude(boss_extrude4_sk1.sketch, amount=BOSS_EXTRUDE4_REACH, mode=Mode.PRIVATE) - cut_extrude1_piece_1.part
    # Sketch6 → Boss-Extrude4 (add, up to next)
    with BuildSketch(Plane.XZ.offset(-114.3), mode=Mode.PRIVATE) as boss_extrude4_sk2:
        with Locations(Location((0, 228.6, 0), (0, 0, 180))):
            Circle(SKETCH6_R_2)
    boss_extrude4_tool2 = extrude(boss_extrude4_sk2.sketch, amount=BOSS_EXTRUDE4_REACH, mode=Mode.PRIVATE) - cut_extrude1_piece_1.part
    # Sketch6 → Boss-Extrude4 (add, up to next)
    with BuildSketch(Plane.XZ.offset(-114.3), mode=Mode.PRIVATE) as boss_extrude4_sk3:
        with Locations(Location((228.6, 0, 0), (0, 0, 180))):
            Circle(SKETCH6_R_2)
    boss_extrude4_tool3 = extrude(boss_extrude4_sk3.sketch, amount=BOSS_EXTRUDE4_REACH, mode=Mode.PRIVATE) - cut_extrude1_piece_1.part
    # Sketch6 → Boss-Extrude4 (add, up to next)
    with BuildSketch(Plane.XZ.offset(-114.3), mode=Mode.PRIVATE) as boss_extrude4_sk4:
        with Locations(Location((0, -228.6, 0), (0, 0, 180))):
            Circle(SKETCH6_R_2)
    boss_extrude4_tool4 = extrude(boss_extrude4_sk4.sketch, amount=BOSS_EXTRUDE4_REACH, mode=Mode.PRIVATE) - cut_extrude1_piece_1.part
    # Sketch6 → Boss-Extrude4 (add, up to next)
    with BuildSketch(Plane.XZ.offset(-114.3), mode=Mode.PRIVATE) as boss_extrude4_sk5:
        with Locations(Location((-228.6, 0, 0), (0, 0, 180))):
            Circle(SKETCH6_R_2)
    boss_extrude4_tool5 = extrude(boss_extrude4_sk5.sketch, amount=BOSS_EXTRUDE4_REACH, mode=Mode.PRIVATE) - cut_extrude1_piece_1.part


with BuildPart() as cut_extrude1_piece_2:
    # of the separate pieces the step leaves, piece 2, a body of its own (cut_extrude1_pieces)
    add(part.part.solids().sort_by_distance((0, 114.3, 279.4))[0])


with BuildPart() as cut_extrude1_piece_1_1:
    add(cut_extrude1_piece_1.part)

    add(cut_extrude1_piece_2.part)  # Boss-Extrude4 merges Cut-Extrude1 piece 2
    add(boss_extrude4_tool1.solids().sort_by_distance((0, 114.3, 0))[0])
    add(boss_extrude4_tool2.solids().sort_by_distance((0, 114.3, 228.6))[0])
    add(boss_extrude4_tool3.solids().sort_by_distance((228.6, 114.3, 0))[0])
    add(boss_extrude4_tool4.solids().sort_by_distance((0, 114.3, -228.6))[0])
    add(boss_extrude4_tool5.solids().sort_by_distance((-228.6, 114.3, 0))[0])

    # Fillet2
    fillet2_edges = [cut_extrude1_piece_1_1.edges().sort_by_distance(p)[0] for p in [
        (25.4, 114.3, 0),
        (25.4, 12.7, 0),
    ]]
    fillet(fillet2_edges, radius=FILLET2_R)

    # Fillet3
    fillet3_edges = [cut_extrude1_piece_1_1.edges().sort_by_distance(p)[0] for p in [
        (21.59, 12.7, 228.6),
        (21.59, 114.3, 228.6),
        (250.19, 12.7, 0),
        (250.19, 114.3, 0),
        (21.59, 12.7, -228.6),
        (21.59, 114.3, -228.6),
        (-207.01, 12.7, 0),
        (-207.01, 114.3, 0),
    ]]
    fillet(fillet3_edges, radius=FILLET3_R)

    # Sketch7 → Cut-Extrude3 (cut)
    with BuildSketch(Plane(origin=(0, 127, 0), x_dir=(1, 0, 0), z_dir=(0, 1, 0))):
        with Locations(Location((0, 0, 0), (0, 0, 90))):
            Circle(SKETCH7_R)
        with Locations(Location((0, -228.6, 0), (0, 0, 270))):
            Circle(SKETCH7_R_2)
    extrude(amount=-CUT_EXTRUDE3_DEPTH, mode=Mode.SUBTRACT)


solid = cut_extrude1_piece_1_1.part
